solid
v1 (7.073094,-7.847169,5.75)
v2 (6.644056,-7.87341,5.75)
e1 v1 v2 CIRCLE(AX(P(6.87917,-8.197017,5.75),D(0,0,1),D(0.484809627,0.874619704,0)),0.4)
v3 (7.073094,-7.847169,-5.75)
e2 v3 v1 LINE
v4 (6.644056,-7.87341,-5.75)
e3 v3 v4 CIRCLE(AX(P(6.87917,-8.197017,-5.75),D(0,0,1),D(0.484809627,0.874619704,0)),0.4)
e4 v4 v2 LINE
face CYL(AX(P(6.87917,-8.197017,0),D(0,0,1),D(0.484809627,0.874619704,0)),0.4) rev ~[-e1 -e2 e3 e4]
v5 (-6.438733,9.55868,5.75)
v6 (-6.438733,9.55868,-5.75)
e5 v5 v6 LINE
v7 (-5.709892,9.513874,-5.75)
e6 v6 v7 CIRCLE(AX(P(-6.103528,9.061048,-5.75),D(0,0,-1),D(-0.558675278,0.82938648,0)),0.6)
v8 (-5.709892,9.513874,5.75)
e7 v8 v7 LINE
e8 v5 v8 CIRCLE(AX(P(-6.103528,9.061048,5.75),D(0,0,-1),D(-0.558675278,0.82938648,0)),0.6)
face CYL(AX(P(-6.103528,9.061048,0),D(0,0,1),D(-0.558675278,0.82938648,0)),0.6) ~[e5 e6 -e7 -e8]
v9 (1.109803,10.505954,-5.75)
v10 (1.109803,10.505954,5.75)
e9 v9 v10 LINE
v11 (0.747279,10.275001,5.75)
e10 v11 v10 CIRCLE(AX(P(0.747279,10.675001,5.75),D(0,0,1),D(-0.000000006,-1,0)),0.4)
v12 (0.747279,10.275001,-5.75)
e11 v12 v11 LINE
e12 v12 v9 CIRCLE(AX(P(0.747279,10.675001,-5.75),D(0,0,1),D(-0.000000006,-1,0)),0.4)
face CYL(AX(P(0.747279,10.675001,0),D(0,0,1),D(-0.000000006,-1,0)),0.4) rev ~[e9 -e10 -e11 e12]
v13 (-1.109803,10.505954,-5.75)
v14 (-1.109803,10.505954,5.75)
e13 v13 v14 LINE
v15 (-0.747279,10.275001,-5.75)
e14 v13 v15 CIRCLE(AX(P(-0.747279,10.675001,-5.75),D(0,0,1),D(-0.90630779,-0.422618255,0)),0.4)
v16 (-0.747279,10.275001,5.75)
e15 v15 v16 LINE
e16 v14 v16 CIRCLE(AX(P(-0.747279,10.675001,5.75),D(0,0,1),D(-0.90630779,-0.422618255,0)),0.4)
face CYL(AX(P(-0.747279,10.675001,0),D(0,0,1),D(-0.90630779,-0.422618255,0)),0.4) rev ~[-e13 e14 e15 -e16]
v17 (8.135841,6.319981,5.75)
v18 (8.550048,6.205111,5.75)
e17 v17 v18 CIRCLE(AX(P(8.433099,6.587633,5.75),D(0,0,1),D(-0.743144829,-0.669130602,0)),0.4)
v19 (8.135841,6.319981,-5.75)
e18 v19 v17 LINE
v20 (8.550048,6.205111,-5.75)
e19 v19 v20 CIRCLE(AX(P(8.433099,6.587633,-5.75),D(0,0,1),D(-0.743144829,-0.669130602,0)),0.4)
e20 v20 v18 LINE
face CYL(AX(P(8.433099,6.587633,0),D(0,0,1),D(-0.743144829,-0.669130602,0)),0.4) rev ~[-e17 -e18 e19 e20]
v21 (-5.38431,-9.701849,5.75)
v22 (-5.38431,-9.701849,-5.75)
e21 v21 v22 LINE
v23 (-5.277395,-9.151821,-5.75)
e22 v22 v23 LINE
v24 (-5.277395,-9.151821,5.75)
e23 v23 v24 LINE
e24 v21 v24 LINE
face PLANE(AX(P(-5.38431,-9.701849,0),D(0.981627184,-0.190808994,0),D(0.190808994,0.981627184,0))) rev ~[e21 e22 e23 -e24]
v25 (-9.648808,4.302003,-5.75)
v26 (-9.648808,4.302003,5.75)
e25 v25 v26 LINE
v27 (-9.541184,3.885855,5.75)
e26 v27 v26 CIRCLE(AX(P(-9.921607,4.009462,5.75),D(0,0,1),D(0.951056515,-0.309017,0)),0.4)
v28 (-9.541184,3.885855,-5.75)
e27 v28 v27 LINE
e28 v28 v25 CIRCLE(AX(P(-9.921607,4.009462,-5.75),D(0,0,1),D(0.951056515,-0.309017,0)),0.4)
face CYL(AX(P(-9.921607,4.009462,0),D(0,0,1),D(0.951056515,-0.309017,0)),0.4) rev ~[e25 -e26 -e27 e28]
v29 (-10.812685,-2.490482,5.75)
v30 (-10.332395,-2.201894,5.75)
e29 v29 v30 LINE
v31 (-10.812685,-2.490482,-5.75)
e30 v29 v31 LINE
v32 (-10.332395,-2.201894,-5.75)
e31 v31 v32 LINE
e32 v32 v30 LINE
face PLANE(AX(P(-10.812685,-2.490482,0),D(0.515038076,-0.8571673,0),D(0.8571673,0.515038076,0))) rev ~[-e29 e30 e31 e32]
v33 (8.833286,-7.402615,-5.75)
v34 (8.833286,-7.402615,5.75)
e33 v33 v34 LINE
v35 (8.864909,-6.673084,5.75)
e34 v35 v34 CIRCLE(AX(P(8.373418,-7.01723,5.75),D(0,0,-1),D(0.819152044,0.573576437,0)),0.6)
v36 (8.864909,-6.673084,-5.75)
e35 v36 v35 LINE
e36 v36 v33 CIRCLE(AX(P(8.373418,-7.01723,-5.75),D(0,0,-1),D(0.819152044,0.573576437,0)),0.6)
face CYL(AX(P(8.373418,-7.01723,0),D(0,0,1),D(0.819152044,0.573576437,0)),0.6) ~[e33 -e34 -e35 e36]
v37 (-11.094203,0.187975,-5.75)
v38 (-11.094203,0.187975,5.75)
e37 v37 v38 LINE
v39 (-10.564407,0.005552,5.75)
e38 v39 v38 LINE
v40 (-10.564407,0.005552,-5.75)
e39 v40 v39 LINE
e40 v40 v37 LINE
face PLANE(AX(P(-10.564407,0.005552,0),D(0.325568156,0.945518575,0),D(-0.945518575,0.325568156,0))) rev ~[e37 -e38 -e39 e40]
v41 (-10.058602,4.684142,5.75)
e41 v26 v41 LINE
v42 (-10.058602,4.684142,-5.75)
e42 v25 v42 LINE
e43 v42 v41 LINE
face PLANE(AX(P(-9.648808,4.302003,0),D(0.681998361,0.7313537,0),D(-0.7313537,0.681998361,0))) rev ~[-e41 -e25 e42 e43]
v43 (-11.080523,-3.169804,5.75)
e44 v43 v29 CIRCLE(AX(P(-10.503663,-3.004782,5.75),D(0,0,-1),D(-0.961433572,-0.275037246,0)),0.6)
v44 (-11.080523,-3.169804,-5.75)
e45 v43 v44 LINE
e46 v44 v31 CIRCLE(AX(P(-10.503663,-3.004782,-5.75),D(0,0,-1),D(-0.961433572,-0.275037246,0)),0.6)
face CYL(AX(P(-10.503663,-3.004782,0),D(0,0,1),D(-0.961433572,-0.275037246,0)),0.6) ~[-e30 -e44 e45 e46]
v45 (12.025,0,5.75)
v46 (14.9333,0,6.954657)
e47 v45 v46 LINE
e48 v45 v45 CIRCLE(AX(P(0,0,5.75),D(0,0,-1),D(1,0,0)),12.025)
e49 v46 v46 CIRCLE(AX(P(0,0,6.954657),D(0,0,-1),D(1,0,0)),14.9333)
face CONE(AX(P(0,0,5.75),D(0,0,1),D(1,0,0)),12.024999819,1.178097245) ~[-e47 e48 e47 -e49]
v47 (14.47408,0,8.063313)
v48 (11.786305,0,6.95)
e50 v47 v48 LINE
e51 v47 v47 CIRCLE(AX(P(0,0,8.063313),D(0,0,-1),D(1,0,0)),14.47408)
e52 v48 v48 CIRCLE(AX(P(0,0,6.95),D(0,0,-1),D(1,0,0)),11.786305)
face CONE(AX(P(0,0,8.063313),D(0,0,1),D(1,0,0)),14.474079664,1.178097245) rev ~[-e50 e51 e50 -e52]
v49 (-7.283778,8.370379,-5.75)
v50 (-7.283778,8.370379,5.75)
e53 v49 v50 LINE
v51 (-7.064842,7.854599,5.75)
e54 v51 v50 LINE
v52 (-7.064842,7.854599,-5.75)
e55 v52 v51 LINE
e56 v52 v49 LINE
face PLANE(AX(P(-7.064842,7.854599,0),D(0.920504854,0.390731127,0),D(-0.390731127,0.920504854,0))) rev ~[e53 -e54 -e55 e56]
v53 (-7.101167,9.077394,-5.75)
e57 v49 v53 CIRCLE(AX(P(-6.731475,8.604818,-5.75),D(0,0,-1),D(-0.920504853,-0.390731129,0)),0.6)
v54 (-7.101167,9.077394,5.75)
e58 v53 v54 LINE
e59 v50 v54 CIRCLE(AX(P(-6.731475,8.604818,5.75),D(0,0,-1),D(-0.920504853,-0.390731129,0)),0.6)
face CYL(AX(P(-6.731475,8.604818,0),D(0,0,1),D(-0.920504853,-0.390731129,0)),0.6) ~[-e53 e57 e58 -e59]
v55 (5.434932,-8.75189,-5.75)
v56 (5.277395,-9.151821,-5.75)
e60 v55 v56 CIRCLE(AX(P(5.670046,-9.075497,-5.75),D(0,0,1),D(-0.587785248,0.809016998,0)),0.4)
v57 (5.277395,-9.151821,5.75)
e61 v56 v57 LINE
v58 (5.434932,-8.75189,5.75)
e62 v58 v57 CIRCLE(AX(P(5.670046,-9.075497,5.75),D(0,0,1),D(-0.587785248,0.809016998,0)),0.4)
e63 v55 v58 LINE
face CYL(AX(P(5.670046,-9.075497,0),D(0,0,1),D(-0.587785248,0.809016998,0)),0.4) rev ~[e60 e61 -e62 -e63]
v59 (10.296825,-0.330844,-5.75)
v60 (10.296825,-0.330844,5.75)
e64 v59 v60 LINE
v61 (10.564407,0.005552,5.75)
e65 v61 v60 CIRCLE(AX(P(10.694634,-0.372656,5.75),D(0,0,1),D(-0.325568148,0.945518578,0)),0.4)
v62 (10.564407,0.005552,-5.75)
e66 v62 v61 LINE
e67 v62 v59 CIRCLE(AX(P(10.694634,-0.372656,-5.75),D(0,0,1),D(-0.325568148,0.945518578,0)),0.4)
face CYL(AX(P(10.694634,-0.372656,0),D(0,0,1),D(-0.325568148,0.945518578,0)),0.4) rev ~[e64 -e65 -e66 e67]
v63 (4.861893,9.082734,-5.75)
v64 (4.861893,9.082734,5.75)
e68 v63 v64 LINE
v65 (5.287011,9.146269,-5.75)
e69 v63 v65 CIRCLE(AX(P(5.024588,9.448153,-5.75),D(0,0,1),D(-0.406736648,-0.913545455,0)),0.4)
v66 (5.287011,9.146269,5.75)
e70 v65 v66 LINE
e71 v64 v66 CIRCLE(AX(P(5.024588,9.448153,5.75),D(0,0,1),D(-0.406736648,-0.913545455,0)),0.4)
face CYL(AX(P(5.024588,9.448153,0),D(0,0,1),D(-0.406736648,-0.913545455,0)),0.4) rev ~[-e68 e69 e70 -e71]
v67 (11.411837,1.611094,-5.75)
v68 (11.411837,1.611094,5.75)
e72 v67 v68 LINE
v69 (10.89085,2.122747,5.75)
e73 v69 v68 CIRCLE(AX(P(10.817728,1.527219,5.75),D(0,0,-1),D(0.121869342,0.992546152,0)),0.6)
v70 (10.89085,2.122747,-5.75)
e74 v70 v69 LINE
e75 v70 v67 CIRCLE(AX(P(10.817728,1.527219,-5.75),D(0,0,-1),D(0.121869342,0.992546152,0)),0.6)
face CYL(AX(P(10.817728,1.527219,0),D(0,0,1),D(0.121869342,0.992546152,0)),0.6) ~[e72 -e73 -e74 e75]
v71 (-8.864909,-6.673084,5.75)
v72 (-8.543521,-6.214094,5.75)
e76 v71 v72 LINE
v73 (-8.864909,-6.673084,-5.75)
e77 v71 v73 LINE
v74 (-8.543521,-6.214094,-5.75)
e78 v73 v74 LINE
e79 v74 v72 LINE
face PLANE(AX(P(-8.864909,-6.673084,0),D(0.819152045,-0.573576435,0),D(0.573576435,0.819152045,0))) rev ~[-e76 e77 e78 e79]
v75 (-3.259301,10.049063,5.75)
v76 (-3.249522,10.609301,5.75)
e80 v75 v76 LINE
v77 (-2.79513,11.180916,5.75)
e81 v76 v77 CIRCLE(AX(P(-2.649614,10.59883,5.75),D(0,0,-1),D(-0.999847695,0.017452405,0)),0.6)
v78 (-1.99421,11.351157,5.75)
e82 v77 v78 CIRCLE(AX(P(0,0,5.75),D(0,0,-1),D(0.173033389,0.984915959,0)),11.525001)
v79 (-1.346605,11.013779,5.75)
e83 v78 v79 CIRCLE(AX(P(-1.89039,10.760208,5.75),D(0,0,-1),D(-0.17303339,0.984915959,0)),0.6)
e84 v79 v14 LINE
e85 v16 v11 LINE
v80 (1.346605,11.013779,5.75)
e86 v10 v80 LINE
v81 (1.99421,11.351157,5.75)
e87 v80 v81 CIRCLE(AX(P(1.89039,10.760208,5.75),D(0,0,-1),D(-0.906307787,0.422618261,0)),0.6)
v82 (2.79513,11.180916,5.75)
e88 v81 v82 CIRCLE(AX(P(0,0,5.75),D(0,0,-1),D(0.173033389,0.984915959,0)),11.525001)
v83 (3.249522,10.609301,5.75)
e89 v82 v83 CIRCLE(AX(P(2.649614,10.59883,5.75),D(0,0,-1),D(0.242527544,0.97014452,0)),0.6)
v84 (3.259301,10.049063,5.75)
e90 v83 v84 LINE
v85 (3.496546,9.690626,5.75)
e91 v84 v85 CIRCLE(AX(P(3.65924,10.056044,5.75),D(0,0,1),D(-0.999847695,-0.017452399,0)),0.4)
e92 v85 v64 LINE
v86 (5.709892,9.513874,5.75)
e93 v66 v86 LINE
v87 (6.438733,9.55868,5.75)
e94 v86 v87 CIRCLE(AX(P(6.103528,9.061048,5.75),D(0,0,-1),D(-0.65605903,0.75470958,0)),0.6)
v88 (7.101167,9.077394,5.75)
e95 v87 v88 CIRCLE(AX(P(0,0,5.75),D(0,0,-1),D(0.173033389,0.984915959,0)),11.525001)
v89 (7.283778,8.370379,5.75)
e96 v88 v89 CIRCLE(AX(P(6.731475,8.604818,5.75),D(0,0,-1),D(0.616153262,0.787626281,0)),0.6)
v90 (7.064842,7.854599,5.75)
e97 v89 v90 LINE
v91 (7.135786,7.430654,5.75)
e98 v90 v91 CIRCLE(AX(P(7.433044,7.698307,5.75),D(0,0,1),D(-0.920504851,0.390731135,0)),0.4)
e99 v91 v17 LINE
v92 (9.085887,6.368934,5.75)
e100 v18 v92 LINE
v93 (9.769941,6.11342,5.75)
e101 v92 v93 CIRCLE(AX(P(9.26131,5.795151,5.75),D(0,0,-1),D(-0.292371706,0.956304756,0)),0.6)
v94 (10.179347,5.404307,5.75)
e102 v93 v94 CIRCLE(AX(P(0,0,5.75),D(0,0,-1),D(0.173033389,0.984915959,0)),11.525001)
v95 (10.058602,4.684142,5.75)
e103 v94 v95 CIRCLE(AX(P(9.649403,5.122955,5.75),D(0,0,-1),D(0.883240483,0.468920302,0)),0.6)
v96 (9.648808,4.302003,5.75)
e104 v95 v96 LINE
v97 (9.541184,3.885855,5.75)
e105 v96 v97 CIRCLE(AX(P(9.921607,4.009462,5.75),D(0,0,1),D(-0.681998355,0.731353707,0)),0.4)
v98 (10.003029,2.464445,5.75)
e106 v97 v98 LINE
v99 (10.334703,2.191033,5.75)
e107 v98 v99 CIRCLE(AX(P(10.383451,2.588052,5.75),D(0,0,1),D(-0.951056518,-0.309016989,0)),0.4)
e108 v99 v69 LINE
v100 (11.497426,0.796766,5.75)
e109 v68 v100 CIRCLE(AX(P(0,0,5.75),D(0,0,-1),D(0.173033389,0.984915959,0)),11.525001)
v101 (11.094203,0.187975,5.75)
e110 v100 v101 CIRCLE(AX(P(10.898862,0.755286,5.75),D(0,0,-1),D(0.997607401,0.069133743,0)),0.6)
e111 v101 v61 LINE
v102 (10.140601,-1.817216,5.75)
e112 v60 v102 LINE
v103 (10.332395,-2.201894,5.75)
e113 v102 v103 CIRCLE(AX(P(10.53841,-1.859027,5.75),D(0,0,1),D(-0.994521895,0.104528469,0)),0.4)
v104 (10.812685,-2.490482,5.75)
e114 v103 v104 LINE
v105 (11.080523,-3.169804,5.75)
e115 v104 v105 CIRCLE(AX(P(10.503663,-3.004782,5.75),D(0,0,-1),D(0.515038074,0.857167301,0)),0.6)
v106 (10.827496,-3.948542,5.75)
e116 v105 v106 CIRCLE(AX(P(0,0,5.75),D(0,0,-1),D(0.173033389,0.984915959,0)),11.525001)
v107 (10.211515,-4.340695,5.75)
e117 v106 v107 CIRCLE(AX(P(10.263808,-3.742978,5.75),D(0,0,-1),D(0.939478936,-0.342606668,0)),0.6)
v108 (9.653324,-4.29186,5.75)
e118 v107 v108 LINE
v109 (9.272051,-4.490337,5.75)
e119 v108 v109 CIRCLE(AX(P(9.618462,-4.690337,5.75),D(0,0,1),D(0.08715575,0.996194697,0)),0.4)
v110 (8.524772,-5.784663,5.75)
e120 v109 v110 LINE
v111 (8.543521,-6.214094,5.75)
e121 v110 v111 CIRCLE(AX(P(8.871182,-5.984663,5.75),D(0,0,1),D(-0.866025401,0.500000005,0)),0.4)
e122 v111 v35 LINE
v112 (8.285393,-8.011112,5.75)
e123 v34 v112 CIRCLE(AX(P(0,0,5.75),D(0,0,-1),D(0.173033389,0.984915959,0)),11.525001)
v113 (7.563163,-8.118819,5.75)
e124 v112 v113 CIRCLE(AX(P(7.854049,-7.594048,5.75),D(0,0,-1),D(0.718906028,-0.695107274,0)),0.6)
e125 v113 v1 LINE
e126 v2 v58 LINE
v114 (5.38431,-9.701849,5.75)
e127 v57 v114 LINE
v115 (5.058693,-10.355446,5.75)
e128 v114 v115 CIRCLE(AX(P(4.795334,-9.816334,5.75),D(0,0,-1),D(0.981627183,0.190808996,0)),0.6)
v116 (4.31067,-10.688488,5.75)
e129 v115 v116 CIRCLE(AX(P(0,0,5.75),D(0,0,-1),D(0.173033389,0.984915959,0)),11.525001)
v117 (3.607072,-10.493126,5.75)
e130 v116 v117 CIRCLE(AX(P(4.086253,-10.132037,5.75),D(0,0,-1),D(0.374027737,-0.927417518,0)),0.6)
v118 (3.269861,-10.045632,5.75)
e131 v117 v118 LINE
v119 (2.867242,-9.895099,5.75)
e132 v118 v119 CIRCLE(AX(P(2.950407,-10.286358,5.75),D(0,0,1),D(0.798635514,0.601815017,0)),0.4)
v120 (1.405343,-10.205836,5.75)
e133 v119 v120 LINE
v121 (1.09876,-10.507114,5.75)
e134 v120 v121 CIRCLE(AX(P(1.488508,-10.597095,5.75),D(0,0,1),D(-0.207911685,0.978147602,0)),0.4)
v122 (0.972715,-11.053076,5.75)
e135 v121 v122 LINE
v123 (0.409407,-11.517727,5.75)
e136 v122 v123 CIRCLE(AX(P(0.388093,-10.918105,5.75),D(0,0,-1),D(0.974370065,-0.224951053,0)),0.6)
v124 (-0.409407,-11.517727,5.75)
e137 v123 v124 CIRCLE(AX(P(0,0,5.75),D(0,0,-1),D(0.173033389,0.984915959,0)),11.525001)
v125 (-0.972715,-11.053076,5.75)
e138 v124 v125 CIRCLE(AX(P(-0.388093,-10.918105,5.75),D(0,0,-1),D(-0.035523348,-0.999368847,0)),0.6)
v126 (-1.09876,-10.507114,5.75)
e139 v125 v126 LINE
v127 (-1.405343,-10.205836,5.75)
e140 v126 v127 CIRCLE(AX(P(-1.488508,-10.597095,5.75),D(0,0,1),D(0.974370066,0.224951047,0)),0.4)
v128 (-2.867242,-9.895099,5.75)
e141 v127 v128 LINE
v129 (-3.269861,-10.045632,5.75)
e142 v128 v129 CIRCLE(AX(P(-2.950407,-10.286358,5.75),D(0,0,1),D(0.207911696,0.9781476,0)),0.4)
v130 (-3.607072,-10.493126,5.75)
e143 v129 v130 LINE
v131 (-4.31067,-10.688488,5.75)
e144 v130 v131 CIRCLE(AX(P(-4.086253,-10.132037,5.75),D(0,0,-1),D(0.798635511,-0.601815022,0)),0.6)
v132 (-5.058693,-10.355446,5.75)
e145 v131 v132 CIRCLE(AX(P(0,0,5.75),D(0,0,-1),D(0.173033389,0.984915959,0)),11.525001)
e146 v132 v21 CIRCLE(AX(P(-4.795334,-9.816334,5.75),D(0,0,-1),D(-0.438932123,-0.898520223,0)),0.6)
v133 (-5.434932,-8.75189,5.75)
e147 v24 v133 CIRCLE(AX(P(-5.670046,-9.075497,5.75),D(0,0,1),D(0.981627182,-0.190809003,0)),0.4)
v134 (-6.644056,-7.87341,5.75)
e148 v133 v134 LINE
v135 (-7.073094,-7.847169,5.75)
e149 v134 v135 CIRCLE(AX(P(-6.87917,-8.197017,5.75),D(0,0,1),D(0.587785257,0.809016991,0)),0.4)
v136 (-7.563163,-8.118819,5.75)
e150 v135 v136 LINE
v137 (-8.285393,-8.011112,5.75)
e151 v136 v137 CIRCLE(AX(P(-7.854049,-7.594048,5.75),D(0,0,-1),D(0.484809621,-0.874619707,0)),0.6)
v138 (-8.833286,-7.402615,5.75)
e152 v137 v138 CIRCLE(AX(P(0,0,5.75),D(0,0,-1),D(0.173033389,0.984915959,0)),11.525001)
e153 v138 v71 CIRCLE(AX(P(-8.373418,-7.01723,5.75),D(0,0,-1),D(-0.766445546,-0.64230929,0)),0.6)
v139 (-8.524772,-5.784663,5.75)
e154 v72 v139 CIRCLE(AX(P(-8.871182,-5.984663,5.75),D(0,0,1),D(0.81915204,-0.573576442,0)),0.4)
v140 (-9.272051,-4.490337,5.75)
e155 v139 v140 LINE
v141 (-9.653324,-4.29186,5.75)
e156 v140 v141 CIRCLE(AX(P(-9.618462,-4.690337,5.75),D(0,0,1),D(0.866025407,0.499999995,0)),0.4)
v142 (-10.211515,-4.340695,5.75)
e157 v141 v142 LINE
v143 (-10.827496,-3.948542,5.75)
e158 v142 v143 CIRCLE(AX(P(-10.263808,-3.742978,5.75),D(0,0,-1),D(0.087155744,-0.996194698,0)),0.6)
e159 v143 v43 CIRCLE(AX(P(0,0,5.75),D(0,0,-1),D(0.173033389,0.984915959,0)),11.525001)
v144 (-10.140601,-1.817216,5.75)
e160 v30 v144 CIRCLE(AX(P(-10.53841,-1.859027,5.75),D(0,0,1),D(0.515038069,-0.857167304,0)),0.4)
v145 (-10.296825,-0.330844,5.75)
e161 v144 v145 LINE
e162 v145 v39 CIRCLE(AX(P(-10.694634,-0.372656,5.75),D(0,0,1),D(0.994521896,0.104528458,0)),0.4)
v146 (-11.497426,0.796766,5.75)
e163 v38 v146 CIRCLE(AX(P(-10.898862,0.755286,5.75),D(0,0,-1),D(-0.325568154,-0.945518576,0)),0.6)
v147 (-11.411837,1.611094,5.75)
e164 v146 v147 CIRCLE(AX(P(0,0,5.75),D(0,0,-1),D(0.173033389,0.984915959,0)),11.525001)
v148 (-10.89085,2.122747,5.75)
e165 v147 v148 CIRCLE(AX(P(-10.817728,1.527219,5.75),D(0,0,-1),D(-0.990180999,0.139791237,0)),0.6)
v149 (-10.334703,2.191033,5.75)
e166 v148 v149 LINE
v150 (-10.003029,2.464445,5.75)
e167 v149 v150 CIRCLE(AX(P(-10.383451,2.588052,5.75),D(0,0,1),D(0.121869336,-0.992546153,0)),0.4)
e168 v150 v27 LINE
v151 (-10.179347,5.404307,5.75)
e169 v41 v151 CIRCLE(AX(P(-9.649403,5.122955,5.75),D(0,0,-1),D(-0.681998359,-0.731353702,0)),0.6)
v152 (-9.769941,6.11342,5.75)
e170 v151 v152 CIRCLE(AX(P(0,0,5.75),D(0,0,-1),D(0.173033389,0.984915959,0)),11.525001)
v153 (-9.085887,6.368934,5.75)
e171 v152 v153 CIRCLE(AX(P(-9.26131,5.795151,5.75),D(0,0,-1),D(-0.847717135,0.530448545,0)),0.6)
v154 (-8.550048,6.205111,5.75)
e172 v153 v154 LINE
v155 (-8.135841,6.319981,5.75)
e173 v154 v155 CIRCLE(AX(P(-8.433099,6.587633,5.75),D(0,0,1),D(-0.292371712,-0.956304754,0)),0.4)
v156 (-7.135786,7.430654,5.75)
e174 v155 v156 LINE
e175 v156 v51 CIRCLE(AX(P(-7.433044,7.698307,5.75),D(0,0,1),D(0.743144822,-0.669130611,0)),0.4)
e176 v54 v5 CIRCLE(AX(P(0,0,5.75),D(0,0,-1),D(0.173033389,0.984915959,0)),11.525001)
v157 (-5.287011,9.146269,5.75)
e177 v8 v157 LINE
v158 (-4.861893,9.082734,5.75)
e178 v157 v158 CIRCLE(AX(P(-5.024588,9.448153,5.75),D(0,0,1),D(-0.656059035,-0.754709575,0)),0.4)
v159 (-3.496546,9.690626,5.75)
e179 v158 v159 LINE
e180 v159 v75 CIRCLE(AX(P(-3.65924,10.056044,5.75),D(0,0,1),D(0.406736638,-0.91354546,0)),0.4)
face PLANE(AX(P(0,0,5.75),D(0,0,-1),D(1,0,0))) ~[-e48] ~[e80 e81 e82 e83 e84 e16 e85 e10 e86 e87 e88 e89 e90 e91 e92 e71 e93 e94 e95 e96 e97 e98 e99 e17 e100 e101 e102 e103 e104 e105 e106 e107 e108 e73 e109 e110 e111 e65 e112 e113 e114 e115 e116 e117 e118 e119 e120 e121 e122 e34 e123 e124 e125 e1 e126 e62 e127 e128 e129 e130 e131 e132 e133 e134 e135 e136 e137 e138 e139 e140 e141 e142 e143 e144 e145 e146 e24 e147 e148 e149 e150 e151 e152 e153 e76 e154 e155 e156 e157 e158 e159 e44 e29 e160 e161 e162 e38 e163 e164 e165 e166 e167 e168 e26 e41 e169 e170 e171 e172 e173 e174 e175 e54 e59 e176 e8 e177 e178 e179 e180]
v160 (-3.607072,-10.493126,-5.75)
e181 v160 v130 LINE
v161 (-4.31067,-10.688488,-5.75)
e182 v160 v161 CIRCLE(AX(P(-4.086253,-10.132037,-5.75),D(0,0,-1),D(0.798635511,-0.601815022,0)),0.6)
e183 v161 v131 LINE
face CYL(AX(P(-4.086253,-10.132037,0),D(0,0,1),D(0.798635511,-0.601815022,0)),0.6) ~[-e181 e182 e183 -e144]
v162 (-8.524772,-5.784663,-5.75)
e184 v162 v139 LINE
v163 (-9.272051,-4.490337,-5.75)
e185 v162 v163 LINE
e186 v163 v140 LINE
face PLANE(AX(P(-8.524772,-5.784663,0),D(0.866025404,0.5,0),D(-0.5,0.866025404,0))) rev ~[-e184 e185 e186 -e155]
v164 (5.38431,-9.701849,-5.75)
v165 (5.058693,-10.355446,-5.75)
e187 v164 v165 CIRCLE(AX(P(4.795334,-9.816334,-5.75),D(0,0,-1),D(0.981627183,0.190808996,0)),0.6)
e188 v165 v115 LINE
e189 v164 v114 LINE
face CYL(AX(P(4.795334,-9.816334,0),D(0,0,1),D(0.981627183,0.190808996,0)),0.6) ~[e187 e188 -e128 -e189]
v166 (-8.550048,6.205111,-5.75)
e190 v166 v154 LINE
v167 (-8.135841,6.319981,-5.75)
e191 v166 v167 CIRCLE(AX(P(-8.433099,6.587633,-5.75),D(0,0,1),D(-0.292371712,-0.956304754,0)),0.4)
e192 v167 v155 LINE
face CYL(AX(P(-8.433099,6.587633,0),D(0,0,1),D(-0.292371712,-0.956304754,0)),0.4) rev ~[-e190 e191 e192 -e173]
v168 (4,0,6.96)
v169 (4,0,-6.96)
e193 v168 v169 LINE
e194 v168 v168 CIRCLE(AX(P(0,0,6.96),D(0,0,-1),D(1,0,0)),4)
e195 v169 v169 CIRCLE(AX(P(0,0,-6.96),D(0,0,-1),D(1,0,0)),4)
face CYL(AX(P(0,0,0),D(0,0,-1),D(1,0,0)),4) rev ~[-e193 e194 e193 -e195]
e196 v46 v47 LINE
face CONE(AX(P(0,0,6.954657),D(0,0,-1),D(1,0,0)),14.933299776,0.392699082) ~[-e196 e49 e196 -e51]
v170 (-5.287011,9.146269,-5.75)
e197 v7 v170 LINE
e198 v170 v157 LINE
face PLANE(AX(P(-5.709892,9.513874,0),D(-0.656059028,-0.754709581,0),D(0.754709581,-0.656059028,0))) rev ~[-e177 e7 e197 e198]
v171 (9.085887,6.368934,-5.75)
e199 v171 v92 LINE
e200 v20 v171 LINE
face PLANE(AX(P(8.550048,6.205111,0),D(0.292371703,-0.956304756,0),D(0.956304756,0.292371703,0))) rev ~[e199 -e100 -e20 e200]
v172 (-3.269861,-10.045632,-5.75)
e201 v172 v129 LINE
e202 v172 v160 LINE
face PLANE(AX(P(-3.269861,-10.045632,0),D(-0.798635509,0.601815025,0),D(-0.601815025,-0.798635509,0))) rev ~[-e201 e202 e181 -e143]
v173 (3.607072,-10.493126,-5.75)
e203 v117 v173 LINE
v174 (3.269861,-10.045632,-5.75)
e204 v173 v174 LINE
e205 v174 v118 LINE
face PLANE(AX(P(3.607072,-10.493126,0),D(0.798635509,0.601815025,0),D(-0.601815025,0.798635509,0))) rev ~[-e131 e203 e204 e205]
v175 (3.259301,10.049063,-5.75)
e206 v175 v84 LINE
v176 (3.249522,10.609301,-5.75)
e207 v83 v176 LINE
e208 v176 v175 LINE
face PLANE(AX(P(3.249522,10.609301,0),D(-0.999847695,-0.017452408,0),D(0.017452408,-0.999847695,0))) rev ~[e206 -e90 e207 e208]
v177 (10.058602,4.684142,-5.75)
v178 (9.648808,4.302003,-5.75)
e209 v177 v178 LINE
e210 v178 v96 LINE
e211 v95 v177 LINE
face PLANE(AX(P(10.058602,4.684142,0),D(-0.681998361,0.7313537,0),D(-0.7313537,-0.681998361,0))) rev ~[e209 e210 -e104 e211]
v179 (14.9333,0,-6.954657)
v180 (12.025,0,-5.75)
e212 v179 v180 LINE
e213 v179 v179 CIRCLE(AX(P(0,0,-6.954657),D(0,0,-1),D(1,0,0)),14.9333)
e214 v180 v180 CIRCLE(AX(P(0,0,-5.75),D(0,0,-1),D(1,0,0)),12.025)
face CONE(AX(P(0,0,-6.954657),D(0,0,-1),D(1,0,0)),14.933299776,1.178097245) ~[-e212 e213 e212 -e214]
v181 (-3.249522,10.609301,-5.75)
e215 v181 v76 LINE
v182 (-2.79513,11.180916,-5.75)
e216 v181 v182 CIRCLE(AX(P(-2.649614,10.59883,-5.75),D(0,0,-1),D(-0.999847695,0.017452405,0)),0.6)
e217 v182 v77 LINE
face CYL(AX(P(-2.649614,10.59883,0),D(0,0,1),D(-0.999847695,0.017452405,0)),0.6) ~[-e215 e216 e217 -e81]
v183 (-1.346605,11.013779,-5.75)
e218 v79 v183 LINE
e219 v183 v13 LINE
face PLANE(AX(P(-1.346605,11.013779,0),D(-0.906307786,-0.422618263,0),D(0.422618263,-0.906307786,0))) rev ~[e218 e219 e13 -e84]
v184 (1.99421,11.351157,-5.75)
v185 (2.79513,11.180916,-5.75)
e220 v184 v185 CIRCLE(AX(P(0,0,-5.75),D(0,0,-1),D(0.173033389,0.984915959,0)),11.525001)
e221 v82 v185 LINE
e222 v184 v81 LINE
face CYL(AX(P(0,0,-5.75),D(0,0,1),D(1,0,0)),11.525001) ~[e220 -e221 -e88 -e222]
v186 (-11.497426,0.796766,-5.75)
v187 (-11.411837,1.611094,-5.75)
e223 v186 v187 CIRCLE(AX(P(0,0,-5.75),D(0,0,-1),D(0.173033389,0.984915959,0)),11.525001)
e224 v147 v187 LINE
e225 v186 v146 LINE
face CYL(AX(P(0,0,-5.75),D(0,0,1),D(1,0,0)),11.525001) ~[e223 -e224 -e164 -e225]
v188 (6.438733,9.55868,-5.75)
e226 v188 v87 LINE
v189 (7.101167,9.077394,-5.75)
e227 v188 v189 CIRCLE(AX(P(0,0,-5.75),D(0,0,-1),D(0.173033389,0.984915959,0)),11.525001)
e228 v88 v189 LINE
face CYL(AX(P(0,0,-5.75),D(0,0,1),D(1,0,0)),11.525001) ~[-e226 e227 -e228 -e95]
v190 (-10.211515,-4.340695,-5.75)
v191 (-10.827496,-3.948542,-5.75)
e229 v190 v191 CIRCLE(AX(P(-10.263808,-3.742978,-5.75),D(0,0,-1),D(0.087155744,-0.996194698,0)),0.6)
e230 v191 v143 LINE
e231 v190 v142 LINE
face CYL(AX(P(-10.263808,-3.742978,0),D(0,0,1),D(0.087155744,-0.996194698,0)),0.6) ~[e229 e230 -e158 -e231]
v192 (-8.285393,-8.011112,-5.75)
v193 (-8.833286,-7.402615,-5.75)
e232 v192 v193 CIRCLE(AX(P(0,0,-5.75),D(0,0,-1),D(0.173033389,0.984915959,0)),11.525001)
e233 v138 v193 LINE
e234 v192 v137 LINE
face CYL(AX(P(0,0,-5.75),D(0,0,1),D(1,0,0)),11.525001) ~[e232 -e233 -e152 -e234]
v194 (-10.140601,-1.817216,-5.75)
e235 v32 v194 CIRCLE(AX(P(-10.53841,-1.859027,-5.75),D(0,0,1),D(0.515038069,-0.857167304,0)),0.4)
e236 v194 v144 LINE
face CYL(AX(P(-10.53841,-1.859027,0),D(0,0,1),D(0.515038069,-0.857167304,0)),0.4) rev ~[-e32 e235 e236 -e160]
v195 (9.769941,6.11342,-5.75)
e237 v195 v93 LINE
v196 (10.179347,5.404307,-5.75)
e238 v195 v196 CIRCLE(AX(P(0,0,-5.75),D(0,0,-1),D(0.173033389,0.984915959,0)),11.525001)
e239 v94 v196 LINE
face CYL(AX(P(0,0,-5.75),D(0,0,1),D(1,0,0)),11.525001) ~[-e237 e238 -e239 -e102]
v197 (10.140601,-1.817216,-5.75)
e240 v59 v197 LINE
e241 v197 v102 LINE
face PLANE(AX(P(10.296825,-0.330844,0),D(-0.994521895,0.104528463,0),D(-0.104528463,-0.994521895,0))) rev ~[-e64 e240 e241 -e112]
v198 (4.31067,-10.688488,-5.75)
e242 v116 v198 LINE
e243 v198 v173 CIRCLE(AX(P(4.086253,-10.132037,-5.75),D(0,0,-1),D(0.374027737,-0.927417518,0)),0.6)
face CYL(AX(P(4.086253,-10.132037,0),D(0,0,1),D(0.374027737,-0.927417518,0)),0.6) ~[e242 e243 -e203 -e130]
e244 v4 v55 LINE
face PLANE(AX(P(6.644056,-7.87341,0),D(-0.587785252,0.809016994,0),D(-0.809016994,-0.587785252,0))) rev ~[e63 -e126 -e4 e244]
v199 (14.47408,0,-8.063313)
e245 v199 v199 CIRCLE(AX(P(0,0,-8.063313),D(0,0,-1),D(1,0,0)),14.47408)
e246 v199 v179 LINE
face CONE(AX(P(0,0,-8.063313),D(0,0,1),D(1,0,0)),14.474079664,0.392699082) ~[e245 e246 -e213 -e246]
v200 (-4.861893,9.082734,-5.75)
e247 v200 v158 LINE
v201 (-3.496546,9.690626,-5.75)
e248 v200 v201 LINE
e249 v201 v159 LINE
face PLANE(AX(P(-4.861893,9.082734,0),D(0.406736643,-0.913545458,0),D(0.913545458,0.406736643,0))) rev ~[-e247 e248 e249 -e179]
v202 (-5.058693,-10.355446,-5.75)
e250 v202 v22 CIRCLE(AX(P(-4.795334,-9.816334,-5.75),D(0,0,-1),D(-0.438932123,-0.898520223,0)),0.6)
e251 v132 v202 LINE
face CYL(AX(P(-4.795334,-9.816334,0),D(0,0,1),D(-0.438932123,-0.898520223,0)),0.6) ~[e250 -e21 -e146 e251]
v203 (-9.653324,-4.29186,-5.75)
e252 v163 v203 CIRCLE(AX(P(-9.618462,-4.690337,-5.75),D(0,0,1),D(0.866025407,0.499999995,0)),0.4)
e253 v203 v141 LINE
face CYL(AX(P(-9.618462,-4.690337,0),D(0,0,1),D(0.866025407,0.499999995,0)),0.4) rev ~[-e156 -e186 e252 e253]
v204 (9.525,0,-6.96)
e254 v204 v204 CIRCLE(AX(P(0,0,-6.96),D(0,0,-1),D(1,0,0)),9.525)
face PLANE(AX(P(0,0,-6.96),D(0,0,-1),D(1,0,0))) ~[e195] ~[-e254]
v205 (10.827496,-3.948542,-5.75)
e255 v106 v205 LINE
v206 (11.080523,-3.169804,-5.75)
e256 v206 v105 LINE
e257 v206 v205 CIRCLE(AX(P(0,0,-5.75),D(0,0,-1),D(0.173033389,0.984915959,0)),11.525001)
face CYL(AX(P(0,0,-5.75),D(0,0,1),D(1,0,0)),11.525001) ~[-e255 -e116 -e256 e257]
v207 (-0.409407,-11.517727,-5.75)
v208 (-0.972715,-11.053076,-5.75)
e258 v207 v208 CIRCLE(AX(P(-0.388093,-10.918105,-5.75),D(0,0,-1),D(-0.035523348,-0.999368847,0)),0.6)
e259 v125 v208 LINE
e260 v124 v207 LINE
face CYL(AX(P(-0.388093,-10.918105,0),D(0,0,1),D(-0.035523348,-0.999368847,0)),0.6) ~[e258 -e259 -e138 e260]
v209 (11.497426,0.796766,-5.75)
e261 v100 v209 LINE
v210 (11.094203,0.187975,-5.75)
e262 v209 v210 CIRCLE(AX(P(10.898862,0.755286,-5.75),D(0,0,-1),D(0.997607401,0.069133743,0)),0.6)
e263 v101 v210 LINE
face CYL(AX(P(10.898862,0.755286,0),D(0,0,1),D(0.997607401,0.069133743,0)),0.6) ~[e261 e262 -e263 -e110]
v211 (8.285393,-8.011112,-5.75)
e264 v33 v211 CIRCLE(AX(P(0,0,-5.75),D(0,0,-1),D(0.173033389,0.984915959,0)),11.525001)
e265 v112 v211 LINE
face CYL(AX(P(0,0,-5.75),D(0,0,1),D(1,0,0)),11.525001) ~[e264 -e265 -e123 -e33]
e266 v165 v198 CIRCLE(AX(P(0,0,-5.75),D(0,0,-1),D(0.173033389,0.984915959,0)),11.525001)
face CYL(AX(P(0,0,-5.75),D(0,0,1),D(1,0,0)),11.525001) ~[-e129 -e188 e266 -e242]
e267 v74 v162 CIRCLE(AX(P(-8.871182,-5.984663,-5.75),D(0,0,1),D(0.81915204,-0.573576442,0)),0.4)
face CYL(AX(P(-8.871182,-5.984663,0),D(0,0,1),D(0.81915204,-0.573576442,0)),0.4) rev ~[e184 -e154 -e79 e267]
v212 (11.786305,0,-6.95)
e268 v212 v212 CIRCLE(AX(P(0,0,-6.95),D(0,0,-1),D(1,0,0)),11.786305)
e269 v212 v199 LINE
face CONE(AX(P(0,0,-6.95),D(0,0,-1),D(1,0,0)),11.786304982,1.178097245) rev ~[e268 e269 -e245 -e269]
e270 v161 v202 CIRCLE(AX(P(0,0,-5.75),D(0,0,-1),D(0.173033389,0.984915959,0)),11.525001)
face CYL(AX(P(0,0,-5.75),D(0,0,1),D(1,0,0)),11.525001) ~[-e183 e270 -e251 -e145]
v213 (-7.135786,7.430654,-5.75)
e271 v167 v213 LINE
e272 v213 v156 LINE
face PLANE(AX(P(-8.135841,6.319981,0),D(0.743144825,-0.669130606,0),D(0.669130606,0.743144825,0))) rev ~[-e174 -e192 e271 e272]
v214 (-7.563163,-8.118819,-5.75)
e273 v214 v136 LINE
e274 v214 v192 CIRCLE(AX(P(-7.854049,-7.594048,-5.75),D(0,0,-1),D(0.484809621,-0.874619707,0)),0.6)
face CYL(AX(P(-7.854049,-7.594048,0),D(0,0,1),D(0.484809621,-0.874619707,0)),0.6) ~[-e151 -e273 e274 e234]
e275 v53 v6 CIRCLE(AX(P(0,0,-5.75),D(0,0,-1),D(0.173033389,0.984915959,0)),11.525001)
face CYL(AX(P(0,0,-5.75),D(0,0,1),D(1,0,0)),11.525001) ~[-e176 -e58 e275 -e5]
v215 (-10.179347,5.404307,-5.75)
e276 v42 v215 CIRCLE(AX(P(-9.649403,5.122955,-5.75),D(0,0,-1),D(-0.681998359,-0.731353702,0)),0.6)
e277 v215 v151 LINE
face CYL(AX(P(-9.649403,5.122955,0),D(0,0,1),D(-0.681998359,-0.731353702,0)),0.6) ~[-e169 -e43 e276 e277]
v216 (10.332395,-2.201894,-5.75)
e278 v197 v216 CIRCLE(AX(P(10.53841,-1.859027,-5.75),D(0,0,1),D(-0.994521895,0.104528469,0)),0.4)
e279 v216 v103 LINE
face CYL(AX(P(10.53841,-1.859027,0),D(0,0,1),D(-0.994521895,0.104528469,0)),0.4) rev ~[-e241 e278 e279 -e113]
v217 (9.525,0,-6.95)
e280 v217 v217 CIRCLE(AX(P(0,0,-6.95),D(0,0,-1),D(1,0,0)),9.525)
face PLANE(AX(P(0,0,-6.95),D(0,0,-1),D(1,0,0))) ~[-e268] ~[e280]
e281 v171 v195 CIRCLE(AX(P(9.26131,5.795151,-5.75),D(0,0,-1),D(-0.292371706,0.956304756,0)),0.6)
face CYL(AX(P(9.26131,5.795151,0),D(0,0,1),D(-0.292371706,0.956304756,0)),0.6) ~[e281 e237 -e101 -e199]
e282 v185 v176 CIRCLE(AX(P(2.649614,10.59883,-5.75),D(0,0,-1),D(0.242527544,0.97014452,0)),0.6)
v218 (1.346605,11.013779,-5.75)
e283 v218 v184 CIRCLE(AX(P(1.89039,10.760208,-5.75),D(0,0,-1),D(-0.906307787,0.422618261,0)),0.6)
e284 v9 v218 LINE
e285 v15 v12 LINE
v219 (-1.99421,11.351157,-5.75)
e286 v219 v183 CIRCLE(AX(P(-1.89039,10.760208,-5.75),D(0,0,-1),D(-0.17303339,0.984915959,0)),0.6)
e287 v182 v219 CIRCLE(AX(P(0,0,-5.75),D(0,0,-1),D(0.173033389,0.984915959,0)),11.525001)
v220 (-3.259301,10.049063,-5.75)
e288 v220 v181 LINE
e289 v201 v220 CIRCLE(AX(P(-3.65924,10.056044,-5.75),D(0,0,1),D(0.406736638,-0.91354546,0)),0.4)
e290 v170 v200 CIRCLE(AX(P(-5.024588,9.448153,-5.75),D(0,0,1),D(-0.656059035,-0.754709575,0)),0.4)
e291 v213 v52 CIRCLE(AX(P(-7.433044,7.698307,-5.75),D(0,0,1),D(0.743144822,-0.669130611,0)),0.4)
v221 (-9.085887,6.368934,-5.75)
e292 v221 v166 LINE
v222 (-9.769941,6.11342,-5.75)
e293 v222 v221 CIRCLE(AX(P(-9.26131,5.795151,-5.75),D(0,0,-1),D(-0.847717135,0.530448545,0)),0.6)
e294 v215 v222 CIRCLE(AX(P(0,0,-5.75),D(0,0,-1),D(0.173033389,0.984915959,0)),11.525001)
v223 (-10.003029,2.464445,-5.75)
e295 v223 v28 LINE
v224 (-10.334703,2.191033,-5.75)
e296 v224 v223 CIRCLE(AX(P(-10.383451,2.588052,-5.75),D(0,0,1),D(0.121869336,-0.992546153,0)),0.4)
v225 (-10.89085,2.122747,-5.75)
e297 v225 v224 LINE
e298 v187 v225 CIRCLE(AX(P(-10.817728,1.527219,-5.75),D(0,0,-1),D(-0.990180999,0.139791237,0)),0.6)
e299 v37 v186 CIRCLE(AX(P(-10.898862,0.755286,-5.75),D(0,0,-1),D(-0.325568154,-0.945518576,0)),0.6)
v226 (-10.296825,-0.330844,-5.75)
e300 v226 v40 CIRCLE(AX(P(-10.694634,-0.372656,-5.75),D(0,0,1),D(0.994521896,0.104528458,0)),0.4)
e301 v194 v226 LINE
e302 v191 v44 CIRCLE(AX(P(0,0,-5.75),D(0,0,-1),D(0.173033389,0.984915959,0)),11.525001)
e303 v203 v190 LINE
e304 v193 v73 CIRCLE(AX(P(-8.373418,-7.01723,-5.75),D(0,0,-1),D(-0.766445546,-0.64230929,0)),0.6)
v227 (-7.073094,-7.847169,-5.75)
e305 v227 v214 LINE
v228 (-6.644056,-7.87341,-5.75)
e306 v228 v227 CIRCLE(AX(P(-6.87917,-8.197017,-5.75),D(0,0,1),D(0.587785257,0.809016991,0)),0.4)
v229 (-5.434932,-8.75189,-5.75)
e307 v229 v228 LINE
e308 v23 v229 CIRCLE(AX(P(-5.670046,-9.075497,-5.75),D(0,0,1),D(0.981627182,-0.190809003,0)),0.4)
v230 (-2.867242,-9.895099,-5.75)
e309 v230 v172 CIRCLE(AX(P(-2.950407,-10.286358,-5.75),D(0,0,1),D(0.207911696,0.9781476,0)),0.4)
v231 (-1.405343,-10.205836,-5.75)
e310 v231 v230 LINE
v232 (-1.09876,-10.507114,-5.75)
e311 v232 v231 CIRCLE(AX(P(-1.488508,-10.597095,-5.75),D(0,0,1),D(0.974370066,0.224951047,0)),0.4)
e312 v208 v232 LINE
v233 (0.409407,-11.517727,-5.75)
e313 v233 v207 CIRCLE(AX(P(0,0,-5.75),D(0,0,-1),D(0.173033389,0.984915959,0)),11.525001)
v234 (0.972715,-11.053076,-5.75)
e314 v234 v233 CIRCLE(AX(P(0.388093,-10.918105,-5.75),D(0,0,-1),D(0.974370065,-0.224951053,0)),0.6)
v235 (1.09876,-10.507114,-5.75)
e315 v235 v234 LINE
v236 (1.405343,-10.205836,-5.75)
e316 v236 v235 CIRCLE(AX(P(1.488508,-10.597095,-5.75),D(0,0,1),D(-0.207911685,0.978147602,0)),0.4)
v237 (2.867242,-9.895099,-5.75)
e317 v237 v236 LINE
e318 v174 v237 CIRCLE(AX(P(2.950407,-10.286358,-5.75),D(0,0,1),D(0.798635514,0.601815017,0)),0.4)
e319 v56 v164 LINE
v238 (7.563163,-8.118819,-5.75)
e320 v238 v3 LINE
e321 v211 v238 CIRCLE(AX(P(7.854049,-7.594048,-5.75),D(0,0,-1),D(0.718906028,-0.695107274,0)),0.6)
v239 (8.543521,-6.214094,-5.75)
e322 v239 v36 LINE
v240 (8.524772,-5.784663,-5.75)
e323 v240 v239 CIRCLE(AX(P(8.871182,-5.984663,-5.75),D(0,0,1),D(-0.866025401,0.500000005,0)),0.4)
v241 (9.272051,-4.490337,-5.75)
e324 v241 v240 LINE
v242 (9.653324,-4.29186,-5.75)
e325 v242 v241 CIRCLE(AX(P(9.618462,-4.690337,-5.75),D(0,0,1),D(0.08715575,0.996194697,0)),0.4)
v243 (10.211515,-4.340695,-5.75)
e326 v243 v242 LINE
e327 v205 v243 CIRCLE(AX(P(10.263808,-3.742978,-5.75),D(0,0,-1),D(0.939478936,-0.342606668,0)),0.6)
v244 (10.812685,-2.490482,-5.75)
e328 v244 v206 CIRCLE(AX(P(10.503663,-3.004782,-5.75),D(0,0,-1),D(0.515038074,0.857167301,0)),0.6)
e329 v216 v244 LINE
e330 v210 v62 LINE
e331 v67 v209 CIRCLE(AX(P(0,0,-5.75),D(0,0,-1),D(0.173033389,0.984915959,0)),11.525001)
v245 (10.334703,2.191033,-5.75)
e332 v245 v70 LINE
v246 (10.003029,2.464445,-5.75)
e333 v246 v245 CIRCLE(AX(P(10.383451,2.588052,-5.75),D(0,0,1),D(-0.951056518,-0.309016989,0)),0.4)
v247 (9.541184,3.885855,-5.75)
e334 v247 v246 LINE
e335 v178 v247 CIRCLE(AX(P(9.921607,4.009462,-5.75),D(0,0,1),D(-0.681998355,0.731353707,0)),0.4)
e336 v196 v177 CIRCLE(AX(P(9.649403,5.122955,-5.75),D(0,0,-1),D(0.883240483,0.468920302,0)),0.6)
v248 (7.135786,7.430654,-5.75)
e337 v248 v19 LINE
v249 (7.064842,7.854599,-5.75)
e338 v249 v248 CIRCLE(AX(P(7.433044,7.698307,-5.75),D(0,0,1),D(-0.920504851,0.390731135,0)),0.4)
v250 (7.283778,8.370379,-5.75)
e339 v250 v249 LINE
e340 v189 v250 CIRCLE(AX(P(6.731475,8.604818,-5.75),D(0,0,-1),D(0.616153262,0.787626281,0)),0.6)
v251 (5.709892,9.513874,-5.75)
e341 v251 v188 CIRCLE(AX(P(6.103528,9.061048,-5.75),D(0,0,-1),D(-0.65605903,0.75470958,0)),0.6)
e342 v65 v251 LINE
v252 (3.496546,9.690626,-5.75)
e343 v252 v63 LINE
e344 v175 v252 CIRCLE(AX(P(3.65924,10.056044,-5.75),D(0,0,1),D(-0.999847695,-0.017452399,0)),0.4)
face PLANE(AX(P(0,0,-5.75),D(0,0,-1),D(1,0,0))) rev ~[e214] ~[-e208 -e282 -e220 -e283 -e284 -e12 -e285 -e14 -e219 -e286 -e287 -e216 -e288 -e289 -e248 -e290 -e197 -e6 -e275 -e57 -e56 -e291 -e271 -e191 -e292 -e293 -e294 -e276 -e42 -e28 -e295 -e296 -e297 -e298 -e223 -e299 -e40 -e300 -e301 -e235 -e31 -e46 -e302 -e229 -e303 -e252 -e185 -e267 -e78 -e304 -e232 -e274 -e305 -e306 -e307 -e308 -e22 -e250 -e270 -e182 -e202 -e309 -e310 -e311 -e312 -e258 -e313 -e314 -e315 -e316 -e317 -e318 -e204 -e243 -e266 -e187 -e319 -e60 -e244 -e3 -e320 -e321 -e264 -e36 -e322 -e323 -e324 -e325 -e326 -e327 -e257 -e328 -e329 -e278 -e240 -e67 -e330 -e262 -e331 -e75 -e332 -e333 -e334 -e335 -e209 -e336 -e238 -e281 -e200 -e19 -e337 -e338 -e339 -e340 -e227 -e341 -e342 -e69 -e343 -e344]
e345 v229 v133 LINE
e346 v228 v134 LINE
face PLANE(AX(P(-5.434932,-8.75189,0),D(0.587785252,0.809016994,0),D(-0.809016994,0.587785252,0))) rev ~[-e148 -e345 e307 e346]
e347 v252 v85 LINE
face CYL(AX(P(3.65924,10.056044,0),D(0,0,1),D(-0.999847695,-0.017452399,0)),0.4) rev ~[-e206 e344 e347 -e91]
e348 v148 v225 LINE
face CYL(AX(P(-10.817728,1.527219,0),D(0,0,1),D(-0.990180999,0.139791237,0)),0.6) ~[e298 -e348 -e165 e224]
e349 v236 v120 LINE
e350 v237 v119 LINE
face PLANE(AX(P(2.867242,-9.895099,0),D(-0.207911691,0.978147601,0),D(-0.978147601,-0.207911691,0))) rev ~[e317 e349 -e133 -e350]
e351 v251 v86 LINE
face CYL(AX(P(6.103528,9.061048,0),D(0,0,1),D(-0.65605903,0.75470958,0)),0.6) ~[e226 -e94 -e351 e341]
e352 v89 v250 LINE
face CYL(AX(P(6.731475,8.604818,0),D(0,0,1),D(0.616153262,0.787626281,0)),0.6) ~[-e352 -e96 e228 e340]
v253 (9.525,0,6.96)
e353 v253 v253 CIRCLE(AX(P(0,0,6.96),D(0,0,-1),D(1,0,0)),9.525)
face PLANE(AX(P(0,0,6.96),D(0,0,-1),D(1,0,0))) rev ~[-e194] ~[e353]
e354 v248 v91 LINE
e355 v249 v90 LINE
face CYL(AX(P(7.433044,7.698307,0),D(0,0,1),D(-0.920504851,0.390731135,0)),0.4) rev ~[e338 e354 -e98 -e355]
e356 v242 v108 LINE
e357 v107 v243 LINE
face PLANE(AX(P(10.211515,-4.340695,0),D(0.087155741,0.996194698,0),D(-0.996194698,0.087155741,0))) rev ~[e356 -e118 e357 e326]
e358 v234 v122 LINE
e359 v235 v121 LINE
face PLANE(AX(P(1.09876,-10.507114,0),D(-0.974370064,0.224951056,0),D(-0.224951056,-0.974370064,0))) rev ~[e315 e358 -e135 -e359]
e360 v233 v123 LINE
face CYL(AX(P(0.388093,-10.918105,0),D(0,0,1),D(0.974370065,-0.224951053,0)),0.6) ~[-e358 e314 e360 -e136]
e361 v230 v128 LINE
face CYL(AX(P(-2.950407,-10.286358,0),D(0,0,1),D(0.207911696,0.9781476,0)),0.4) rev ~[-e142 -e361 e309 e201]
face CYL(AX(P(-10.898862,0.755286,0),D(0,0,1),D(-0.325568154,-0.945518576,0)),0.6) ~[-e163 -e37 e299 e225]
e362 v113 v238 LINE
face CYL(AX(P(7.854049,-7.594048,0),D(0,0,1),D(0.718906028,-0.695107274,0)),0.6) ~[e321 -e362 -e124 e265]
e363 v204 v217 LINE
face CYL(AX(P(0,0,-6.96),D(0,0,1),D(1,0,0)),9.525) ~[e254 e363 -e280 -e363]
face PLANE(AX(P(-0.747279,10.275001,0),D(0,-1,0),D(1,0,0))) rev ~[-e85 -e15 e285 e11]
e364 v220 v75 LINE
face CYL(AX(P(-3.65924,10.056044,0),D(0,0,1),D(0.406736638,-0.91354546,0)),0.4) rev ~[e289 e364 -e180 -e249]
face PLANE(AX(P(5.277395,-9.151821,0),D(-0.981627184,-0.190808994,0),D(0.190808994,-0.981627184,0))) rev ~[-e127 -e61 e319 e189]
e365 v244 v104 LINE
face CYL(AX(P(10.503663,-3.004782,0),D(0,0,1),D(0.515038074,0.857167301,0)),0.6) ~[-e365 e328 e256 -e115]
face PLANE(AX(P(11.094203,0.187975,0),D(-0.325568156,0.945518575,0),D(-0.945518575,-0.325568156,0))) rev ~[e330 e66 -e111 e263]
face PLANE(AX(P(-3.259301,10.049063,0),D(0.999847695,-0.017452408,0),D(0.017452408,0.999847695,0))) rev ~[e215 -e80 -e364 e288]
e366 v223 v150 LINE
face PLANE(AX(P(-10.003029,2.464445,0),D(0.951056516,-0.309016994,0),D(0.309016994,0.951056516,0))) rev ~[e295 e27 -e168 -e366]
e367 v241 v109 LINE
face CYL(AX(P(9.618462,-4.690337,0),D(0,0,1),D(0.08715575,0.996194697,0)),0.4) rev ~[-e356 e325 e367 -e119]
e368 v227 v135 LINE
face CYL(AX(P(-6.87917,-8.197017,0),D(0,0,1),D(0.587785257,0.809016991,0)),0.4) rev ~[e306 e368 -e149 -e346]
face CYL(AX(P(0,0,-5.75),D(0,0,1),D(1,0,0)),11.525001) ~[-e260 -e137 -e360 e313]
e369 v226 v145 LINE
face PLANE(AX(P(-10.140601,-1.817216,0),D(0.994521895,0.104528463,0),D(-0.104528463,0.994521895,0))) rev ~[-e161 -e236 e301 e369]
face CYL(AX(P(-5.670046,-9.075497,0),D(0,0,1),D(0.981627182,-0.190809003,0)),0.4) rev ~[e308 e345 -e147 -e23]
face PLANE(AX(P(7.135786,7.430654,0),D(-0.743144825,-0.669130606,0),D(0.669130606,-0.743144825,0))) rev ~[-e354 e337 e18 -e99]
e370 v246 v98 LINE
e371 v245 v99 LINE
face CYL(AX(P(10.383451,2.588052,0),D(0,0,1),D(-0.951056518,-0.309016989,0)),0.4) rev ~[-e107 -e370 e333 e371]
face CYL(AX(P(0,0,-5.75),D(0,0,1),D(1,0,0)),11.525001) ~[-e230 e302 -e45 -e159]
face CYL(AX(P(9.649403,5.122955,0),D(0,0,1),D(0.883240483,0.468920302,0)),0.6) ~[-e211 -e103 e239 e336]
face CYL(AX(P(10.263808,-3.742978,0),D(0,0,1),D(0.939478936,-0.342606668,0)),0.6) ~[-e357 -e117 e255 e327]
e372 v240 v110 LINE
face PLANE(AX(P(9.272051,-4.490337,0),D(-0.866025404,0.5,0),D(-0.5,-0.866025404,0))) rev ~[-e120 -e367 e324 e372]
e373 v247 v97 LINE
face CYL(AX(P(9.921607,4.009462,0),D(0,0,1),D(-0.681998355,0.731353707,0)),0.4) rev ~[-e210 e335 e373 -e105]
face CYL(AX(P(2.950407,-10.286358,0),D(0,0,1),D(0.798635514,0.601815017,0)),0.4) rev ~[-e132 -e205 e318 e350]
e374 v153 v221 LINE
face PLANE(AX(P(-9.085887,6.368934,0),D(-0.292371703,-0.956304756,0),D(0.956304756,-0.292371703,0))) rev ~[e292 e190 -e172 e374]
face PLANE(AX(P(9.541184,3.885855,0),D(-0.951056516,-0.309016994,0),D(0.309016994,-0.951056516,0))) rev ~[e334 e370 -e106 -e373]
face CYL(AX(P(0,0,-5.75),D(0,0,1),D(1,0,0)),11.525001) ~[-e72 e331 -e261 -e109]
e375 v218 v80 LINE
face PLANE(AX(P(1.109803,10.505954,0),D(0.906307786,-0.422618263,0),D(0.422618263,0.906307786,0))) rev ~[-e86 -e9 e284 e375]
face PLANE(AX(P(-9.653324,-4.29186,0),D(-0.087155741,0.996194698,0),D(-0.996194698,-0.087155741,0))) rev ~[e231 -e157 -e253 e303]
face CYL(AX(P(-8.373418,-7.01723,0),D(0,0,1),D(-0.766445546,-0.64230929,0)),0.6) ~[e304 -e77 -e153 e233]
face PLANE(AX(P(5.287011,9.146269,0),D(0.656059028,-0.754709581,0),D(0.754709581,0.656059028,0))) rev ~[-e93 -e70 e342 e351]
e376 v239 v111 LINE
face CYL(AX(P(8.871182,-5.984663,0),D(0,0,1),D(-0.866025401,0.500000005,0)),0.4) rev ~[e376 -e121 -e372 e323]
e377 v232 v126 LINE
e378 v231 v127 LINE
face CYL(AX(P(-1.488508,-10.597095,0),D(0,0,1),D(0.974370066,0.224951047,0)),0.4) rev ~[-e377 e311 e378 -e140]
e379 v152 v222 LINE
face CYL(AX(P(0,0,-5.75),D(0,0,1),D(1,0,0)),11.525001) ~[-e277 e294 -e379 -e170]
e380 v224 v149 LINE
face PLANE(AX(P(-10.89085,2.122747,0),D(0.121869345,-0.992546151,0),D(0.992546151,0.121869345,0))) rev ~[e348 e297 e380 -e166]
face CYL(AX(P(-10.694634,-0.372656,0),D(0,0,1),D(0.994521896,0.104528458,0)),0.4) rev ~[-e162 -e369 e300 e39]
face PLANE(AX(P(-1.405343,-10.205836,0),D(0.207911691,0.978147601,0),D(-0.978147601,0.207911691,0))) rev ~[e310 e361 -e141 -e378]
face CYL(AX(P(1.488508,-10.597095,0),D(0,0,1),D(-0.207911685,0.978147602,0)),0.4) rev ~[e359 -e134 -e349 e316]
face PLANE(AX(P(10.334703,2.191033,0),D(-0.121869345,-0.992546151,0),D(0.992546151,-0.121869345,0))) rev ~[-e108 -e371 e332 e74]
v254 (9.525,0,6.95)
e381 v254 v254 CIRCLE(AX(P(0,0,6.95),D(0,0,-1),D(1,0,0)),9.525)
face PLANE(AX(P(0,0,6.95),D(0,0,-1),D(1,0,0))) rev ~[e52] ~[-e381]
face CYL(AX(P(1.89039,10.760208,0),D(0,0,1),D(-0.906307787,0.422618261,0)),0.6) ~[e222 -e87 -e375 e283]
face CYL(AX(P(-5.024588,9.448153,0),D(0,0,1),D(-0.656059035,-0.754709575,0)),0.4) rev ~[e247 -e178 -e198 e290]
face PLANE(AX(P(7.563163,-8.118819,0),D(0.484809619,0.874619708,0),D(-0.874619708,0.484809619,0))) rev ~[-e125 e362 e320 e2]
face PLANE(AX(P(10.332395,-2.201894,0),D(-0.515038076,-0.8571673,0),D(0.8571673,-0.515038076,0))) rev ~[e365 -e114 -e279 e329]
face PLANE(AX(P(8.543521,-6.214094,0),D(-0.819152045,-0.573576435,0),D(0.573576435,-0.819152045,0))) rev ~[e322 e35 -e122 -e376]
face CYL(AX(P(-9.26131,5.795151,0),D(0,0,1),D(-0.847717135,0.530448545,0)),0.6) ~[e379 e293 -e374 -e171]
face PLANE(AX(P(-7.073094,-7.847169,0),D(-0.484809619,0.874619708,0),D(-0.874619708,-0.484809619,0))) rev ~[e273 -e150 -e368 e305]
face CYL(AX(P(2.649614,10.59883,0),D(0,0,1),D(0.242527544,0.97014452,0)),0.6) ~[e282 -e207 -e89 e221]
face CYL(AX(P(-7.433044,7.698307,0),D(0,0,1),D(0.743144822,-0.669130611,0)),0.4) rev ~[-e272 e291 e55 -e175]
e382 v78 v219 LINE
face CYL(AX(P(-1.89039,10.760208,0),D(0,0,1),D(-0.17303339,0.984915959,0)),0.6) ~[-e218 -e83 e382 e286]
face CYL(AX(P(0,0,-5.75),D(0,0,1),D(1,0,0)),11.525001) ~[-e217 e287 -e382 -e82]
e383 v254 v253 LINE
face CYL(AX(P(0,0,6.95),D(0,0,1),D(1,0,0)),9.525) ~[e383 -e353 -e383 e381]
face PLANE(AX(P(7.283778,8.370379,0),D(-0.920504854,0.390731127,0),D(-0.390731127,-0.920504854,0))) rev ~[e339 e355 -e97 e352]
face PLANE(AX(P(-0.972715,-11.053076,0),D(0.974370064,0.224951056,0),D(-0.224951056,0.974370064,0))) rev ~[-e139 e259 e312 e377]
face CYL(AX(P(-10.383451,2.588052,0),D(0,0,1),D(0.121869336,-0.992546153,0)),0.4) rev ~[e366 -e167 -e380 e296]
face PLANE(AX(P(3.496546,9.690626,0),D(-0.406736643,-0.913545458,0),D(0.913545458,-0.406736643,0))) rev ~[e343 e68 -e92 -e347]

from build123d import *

# Parameters (mm, degrees)
TOOTHEXTRUDECUTGEARBELT01_DEPTH = 5.749999914
PATTERNGEARBELT01_COUNT         = 15
BOREREVOLVESKETCH_W             = 13.91999979
BOREREVOLVESKETCH_H             = 4


with BuildPart() as part:
    # SketchRevolveGearBelt01 → GearBelt01 (revolve)
    with BuildSketch(Plane(origin=(0, 0, 0), x_dir=(0, 0, -1), z_dir=(1, 0, 0))):
        Polygon((6.959999895, 0), (6.959999895, 9.524999857), (6.949999896, 9.524999857), (6.949999896, 11.786304982), (8.063312621, 14.474079664), (6.954657199, 14.933299776), (5.749999914, 12.024999819), (5.749999914, 11.525000827), (-5.749999914, 11.525000827), (-5.749999914, 12.024999819), (-6.954657199, 14.933299776), (-8.063312621, 14.474079664), (-6.949999896, 11.786304982), (-6.949999896, 9.524999857), (-6.959999895, 9.524999857), (-6.959999895, 0), align=None)
    revolve(axis=Axis((0, 0, 0), (0, 0, -1)))

    # SketchToothGearBelt01 → ToothExtrudeCutGearBelt01 (cut, symmetric)
    with BuildSketch(Plane.XY):
        with BuildLine():
            Line((-1.346605253, 11.013778629), (-1.109802523, 10.505953538))
            ThreePointArc((-1.109802523, 10.505953538), (-0.962199254, 10.337644266), (-0.747279414, 10.275000846))
            Line((-0.747279414, 10.275000846), (0.747279414, 10.275000846))
            ThreePointArc((0.747279414, 10.275000846), (0.962199254, 10.337644266), (1.109802523, 10.505953538))
            Line((1.109802523, 10.505953538), (1.346605253, 11.013778629))
            ThreePointArc((1.346605253, 11.013778629), (1.613174654, 11.292327669), (1.994209948, 11.351157242))
            Line((1.994209948, 11.351157242), (0, 13.891157204))
            Line((0, 13.891157204), (-1.994209948, 11.351157242))
            ThreePointArc((-1.994209948, 11.351157242), (-1.613174654, 11.292327669), (-1.346605253, 11.013778629))
        make_face()
    toothextrudecutgearbelt01 = extrude(amount=TOOTHEXTRUDECUTGEARBELT01_DEPTH, both=True, mode=Mode.SUBTRACT)

    # PatternGearBelt01: ToothExtrudeCutGearBelt01 ×15 about axis
    patterngearbelt01_axis = Axis((0, 0, 75.122702417), (0, 0, -1))
    for i in range(1, PATTERNGEARBELT01_COUNT):
        add(toothextrudecutgearbelt01.rotate(patterngearbelt01_axis, i * 360 / PATTERNGEARBELT01_COUNT), mode=Mode.SUBTRACT)

    # BoreRevolveSketch → BoreRevolveCut (revolve, cut)
    with BuildSketch(Plane(origin=(0, 0, 0), x_dir=(0, 0, -1), z_dir=(1, 0, 0))):
        with Locations((0, 2)):
            Rectangle(BOREREVOLVESKETCH_W, BOREREVOLVESKETCH_H)
    revolve(axis=Axis((0, 0, 0), (0, 0, -1)), mode=Mode.SUBTRACT)


solid = part.part
